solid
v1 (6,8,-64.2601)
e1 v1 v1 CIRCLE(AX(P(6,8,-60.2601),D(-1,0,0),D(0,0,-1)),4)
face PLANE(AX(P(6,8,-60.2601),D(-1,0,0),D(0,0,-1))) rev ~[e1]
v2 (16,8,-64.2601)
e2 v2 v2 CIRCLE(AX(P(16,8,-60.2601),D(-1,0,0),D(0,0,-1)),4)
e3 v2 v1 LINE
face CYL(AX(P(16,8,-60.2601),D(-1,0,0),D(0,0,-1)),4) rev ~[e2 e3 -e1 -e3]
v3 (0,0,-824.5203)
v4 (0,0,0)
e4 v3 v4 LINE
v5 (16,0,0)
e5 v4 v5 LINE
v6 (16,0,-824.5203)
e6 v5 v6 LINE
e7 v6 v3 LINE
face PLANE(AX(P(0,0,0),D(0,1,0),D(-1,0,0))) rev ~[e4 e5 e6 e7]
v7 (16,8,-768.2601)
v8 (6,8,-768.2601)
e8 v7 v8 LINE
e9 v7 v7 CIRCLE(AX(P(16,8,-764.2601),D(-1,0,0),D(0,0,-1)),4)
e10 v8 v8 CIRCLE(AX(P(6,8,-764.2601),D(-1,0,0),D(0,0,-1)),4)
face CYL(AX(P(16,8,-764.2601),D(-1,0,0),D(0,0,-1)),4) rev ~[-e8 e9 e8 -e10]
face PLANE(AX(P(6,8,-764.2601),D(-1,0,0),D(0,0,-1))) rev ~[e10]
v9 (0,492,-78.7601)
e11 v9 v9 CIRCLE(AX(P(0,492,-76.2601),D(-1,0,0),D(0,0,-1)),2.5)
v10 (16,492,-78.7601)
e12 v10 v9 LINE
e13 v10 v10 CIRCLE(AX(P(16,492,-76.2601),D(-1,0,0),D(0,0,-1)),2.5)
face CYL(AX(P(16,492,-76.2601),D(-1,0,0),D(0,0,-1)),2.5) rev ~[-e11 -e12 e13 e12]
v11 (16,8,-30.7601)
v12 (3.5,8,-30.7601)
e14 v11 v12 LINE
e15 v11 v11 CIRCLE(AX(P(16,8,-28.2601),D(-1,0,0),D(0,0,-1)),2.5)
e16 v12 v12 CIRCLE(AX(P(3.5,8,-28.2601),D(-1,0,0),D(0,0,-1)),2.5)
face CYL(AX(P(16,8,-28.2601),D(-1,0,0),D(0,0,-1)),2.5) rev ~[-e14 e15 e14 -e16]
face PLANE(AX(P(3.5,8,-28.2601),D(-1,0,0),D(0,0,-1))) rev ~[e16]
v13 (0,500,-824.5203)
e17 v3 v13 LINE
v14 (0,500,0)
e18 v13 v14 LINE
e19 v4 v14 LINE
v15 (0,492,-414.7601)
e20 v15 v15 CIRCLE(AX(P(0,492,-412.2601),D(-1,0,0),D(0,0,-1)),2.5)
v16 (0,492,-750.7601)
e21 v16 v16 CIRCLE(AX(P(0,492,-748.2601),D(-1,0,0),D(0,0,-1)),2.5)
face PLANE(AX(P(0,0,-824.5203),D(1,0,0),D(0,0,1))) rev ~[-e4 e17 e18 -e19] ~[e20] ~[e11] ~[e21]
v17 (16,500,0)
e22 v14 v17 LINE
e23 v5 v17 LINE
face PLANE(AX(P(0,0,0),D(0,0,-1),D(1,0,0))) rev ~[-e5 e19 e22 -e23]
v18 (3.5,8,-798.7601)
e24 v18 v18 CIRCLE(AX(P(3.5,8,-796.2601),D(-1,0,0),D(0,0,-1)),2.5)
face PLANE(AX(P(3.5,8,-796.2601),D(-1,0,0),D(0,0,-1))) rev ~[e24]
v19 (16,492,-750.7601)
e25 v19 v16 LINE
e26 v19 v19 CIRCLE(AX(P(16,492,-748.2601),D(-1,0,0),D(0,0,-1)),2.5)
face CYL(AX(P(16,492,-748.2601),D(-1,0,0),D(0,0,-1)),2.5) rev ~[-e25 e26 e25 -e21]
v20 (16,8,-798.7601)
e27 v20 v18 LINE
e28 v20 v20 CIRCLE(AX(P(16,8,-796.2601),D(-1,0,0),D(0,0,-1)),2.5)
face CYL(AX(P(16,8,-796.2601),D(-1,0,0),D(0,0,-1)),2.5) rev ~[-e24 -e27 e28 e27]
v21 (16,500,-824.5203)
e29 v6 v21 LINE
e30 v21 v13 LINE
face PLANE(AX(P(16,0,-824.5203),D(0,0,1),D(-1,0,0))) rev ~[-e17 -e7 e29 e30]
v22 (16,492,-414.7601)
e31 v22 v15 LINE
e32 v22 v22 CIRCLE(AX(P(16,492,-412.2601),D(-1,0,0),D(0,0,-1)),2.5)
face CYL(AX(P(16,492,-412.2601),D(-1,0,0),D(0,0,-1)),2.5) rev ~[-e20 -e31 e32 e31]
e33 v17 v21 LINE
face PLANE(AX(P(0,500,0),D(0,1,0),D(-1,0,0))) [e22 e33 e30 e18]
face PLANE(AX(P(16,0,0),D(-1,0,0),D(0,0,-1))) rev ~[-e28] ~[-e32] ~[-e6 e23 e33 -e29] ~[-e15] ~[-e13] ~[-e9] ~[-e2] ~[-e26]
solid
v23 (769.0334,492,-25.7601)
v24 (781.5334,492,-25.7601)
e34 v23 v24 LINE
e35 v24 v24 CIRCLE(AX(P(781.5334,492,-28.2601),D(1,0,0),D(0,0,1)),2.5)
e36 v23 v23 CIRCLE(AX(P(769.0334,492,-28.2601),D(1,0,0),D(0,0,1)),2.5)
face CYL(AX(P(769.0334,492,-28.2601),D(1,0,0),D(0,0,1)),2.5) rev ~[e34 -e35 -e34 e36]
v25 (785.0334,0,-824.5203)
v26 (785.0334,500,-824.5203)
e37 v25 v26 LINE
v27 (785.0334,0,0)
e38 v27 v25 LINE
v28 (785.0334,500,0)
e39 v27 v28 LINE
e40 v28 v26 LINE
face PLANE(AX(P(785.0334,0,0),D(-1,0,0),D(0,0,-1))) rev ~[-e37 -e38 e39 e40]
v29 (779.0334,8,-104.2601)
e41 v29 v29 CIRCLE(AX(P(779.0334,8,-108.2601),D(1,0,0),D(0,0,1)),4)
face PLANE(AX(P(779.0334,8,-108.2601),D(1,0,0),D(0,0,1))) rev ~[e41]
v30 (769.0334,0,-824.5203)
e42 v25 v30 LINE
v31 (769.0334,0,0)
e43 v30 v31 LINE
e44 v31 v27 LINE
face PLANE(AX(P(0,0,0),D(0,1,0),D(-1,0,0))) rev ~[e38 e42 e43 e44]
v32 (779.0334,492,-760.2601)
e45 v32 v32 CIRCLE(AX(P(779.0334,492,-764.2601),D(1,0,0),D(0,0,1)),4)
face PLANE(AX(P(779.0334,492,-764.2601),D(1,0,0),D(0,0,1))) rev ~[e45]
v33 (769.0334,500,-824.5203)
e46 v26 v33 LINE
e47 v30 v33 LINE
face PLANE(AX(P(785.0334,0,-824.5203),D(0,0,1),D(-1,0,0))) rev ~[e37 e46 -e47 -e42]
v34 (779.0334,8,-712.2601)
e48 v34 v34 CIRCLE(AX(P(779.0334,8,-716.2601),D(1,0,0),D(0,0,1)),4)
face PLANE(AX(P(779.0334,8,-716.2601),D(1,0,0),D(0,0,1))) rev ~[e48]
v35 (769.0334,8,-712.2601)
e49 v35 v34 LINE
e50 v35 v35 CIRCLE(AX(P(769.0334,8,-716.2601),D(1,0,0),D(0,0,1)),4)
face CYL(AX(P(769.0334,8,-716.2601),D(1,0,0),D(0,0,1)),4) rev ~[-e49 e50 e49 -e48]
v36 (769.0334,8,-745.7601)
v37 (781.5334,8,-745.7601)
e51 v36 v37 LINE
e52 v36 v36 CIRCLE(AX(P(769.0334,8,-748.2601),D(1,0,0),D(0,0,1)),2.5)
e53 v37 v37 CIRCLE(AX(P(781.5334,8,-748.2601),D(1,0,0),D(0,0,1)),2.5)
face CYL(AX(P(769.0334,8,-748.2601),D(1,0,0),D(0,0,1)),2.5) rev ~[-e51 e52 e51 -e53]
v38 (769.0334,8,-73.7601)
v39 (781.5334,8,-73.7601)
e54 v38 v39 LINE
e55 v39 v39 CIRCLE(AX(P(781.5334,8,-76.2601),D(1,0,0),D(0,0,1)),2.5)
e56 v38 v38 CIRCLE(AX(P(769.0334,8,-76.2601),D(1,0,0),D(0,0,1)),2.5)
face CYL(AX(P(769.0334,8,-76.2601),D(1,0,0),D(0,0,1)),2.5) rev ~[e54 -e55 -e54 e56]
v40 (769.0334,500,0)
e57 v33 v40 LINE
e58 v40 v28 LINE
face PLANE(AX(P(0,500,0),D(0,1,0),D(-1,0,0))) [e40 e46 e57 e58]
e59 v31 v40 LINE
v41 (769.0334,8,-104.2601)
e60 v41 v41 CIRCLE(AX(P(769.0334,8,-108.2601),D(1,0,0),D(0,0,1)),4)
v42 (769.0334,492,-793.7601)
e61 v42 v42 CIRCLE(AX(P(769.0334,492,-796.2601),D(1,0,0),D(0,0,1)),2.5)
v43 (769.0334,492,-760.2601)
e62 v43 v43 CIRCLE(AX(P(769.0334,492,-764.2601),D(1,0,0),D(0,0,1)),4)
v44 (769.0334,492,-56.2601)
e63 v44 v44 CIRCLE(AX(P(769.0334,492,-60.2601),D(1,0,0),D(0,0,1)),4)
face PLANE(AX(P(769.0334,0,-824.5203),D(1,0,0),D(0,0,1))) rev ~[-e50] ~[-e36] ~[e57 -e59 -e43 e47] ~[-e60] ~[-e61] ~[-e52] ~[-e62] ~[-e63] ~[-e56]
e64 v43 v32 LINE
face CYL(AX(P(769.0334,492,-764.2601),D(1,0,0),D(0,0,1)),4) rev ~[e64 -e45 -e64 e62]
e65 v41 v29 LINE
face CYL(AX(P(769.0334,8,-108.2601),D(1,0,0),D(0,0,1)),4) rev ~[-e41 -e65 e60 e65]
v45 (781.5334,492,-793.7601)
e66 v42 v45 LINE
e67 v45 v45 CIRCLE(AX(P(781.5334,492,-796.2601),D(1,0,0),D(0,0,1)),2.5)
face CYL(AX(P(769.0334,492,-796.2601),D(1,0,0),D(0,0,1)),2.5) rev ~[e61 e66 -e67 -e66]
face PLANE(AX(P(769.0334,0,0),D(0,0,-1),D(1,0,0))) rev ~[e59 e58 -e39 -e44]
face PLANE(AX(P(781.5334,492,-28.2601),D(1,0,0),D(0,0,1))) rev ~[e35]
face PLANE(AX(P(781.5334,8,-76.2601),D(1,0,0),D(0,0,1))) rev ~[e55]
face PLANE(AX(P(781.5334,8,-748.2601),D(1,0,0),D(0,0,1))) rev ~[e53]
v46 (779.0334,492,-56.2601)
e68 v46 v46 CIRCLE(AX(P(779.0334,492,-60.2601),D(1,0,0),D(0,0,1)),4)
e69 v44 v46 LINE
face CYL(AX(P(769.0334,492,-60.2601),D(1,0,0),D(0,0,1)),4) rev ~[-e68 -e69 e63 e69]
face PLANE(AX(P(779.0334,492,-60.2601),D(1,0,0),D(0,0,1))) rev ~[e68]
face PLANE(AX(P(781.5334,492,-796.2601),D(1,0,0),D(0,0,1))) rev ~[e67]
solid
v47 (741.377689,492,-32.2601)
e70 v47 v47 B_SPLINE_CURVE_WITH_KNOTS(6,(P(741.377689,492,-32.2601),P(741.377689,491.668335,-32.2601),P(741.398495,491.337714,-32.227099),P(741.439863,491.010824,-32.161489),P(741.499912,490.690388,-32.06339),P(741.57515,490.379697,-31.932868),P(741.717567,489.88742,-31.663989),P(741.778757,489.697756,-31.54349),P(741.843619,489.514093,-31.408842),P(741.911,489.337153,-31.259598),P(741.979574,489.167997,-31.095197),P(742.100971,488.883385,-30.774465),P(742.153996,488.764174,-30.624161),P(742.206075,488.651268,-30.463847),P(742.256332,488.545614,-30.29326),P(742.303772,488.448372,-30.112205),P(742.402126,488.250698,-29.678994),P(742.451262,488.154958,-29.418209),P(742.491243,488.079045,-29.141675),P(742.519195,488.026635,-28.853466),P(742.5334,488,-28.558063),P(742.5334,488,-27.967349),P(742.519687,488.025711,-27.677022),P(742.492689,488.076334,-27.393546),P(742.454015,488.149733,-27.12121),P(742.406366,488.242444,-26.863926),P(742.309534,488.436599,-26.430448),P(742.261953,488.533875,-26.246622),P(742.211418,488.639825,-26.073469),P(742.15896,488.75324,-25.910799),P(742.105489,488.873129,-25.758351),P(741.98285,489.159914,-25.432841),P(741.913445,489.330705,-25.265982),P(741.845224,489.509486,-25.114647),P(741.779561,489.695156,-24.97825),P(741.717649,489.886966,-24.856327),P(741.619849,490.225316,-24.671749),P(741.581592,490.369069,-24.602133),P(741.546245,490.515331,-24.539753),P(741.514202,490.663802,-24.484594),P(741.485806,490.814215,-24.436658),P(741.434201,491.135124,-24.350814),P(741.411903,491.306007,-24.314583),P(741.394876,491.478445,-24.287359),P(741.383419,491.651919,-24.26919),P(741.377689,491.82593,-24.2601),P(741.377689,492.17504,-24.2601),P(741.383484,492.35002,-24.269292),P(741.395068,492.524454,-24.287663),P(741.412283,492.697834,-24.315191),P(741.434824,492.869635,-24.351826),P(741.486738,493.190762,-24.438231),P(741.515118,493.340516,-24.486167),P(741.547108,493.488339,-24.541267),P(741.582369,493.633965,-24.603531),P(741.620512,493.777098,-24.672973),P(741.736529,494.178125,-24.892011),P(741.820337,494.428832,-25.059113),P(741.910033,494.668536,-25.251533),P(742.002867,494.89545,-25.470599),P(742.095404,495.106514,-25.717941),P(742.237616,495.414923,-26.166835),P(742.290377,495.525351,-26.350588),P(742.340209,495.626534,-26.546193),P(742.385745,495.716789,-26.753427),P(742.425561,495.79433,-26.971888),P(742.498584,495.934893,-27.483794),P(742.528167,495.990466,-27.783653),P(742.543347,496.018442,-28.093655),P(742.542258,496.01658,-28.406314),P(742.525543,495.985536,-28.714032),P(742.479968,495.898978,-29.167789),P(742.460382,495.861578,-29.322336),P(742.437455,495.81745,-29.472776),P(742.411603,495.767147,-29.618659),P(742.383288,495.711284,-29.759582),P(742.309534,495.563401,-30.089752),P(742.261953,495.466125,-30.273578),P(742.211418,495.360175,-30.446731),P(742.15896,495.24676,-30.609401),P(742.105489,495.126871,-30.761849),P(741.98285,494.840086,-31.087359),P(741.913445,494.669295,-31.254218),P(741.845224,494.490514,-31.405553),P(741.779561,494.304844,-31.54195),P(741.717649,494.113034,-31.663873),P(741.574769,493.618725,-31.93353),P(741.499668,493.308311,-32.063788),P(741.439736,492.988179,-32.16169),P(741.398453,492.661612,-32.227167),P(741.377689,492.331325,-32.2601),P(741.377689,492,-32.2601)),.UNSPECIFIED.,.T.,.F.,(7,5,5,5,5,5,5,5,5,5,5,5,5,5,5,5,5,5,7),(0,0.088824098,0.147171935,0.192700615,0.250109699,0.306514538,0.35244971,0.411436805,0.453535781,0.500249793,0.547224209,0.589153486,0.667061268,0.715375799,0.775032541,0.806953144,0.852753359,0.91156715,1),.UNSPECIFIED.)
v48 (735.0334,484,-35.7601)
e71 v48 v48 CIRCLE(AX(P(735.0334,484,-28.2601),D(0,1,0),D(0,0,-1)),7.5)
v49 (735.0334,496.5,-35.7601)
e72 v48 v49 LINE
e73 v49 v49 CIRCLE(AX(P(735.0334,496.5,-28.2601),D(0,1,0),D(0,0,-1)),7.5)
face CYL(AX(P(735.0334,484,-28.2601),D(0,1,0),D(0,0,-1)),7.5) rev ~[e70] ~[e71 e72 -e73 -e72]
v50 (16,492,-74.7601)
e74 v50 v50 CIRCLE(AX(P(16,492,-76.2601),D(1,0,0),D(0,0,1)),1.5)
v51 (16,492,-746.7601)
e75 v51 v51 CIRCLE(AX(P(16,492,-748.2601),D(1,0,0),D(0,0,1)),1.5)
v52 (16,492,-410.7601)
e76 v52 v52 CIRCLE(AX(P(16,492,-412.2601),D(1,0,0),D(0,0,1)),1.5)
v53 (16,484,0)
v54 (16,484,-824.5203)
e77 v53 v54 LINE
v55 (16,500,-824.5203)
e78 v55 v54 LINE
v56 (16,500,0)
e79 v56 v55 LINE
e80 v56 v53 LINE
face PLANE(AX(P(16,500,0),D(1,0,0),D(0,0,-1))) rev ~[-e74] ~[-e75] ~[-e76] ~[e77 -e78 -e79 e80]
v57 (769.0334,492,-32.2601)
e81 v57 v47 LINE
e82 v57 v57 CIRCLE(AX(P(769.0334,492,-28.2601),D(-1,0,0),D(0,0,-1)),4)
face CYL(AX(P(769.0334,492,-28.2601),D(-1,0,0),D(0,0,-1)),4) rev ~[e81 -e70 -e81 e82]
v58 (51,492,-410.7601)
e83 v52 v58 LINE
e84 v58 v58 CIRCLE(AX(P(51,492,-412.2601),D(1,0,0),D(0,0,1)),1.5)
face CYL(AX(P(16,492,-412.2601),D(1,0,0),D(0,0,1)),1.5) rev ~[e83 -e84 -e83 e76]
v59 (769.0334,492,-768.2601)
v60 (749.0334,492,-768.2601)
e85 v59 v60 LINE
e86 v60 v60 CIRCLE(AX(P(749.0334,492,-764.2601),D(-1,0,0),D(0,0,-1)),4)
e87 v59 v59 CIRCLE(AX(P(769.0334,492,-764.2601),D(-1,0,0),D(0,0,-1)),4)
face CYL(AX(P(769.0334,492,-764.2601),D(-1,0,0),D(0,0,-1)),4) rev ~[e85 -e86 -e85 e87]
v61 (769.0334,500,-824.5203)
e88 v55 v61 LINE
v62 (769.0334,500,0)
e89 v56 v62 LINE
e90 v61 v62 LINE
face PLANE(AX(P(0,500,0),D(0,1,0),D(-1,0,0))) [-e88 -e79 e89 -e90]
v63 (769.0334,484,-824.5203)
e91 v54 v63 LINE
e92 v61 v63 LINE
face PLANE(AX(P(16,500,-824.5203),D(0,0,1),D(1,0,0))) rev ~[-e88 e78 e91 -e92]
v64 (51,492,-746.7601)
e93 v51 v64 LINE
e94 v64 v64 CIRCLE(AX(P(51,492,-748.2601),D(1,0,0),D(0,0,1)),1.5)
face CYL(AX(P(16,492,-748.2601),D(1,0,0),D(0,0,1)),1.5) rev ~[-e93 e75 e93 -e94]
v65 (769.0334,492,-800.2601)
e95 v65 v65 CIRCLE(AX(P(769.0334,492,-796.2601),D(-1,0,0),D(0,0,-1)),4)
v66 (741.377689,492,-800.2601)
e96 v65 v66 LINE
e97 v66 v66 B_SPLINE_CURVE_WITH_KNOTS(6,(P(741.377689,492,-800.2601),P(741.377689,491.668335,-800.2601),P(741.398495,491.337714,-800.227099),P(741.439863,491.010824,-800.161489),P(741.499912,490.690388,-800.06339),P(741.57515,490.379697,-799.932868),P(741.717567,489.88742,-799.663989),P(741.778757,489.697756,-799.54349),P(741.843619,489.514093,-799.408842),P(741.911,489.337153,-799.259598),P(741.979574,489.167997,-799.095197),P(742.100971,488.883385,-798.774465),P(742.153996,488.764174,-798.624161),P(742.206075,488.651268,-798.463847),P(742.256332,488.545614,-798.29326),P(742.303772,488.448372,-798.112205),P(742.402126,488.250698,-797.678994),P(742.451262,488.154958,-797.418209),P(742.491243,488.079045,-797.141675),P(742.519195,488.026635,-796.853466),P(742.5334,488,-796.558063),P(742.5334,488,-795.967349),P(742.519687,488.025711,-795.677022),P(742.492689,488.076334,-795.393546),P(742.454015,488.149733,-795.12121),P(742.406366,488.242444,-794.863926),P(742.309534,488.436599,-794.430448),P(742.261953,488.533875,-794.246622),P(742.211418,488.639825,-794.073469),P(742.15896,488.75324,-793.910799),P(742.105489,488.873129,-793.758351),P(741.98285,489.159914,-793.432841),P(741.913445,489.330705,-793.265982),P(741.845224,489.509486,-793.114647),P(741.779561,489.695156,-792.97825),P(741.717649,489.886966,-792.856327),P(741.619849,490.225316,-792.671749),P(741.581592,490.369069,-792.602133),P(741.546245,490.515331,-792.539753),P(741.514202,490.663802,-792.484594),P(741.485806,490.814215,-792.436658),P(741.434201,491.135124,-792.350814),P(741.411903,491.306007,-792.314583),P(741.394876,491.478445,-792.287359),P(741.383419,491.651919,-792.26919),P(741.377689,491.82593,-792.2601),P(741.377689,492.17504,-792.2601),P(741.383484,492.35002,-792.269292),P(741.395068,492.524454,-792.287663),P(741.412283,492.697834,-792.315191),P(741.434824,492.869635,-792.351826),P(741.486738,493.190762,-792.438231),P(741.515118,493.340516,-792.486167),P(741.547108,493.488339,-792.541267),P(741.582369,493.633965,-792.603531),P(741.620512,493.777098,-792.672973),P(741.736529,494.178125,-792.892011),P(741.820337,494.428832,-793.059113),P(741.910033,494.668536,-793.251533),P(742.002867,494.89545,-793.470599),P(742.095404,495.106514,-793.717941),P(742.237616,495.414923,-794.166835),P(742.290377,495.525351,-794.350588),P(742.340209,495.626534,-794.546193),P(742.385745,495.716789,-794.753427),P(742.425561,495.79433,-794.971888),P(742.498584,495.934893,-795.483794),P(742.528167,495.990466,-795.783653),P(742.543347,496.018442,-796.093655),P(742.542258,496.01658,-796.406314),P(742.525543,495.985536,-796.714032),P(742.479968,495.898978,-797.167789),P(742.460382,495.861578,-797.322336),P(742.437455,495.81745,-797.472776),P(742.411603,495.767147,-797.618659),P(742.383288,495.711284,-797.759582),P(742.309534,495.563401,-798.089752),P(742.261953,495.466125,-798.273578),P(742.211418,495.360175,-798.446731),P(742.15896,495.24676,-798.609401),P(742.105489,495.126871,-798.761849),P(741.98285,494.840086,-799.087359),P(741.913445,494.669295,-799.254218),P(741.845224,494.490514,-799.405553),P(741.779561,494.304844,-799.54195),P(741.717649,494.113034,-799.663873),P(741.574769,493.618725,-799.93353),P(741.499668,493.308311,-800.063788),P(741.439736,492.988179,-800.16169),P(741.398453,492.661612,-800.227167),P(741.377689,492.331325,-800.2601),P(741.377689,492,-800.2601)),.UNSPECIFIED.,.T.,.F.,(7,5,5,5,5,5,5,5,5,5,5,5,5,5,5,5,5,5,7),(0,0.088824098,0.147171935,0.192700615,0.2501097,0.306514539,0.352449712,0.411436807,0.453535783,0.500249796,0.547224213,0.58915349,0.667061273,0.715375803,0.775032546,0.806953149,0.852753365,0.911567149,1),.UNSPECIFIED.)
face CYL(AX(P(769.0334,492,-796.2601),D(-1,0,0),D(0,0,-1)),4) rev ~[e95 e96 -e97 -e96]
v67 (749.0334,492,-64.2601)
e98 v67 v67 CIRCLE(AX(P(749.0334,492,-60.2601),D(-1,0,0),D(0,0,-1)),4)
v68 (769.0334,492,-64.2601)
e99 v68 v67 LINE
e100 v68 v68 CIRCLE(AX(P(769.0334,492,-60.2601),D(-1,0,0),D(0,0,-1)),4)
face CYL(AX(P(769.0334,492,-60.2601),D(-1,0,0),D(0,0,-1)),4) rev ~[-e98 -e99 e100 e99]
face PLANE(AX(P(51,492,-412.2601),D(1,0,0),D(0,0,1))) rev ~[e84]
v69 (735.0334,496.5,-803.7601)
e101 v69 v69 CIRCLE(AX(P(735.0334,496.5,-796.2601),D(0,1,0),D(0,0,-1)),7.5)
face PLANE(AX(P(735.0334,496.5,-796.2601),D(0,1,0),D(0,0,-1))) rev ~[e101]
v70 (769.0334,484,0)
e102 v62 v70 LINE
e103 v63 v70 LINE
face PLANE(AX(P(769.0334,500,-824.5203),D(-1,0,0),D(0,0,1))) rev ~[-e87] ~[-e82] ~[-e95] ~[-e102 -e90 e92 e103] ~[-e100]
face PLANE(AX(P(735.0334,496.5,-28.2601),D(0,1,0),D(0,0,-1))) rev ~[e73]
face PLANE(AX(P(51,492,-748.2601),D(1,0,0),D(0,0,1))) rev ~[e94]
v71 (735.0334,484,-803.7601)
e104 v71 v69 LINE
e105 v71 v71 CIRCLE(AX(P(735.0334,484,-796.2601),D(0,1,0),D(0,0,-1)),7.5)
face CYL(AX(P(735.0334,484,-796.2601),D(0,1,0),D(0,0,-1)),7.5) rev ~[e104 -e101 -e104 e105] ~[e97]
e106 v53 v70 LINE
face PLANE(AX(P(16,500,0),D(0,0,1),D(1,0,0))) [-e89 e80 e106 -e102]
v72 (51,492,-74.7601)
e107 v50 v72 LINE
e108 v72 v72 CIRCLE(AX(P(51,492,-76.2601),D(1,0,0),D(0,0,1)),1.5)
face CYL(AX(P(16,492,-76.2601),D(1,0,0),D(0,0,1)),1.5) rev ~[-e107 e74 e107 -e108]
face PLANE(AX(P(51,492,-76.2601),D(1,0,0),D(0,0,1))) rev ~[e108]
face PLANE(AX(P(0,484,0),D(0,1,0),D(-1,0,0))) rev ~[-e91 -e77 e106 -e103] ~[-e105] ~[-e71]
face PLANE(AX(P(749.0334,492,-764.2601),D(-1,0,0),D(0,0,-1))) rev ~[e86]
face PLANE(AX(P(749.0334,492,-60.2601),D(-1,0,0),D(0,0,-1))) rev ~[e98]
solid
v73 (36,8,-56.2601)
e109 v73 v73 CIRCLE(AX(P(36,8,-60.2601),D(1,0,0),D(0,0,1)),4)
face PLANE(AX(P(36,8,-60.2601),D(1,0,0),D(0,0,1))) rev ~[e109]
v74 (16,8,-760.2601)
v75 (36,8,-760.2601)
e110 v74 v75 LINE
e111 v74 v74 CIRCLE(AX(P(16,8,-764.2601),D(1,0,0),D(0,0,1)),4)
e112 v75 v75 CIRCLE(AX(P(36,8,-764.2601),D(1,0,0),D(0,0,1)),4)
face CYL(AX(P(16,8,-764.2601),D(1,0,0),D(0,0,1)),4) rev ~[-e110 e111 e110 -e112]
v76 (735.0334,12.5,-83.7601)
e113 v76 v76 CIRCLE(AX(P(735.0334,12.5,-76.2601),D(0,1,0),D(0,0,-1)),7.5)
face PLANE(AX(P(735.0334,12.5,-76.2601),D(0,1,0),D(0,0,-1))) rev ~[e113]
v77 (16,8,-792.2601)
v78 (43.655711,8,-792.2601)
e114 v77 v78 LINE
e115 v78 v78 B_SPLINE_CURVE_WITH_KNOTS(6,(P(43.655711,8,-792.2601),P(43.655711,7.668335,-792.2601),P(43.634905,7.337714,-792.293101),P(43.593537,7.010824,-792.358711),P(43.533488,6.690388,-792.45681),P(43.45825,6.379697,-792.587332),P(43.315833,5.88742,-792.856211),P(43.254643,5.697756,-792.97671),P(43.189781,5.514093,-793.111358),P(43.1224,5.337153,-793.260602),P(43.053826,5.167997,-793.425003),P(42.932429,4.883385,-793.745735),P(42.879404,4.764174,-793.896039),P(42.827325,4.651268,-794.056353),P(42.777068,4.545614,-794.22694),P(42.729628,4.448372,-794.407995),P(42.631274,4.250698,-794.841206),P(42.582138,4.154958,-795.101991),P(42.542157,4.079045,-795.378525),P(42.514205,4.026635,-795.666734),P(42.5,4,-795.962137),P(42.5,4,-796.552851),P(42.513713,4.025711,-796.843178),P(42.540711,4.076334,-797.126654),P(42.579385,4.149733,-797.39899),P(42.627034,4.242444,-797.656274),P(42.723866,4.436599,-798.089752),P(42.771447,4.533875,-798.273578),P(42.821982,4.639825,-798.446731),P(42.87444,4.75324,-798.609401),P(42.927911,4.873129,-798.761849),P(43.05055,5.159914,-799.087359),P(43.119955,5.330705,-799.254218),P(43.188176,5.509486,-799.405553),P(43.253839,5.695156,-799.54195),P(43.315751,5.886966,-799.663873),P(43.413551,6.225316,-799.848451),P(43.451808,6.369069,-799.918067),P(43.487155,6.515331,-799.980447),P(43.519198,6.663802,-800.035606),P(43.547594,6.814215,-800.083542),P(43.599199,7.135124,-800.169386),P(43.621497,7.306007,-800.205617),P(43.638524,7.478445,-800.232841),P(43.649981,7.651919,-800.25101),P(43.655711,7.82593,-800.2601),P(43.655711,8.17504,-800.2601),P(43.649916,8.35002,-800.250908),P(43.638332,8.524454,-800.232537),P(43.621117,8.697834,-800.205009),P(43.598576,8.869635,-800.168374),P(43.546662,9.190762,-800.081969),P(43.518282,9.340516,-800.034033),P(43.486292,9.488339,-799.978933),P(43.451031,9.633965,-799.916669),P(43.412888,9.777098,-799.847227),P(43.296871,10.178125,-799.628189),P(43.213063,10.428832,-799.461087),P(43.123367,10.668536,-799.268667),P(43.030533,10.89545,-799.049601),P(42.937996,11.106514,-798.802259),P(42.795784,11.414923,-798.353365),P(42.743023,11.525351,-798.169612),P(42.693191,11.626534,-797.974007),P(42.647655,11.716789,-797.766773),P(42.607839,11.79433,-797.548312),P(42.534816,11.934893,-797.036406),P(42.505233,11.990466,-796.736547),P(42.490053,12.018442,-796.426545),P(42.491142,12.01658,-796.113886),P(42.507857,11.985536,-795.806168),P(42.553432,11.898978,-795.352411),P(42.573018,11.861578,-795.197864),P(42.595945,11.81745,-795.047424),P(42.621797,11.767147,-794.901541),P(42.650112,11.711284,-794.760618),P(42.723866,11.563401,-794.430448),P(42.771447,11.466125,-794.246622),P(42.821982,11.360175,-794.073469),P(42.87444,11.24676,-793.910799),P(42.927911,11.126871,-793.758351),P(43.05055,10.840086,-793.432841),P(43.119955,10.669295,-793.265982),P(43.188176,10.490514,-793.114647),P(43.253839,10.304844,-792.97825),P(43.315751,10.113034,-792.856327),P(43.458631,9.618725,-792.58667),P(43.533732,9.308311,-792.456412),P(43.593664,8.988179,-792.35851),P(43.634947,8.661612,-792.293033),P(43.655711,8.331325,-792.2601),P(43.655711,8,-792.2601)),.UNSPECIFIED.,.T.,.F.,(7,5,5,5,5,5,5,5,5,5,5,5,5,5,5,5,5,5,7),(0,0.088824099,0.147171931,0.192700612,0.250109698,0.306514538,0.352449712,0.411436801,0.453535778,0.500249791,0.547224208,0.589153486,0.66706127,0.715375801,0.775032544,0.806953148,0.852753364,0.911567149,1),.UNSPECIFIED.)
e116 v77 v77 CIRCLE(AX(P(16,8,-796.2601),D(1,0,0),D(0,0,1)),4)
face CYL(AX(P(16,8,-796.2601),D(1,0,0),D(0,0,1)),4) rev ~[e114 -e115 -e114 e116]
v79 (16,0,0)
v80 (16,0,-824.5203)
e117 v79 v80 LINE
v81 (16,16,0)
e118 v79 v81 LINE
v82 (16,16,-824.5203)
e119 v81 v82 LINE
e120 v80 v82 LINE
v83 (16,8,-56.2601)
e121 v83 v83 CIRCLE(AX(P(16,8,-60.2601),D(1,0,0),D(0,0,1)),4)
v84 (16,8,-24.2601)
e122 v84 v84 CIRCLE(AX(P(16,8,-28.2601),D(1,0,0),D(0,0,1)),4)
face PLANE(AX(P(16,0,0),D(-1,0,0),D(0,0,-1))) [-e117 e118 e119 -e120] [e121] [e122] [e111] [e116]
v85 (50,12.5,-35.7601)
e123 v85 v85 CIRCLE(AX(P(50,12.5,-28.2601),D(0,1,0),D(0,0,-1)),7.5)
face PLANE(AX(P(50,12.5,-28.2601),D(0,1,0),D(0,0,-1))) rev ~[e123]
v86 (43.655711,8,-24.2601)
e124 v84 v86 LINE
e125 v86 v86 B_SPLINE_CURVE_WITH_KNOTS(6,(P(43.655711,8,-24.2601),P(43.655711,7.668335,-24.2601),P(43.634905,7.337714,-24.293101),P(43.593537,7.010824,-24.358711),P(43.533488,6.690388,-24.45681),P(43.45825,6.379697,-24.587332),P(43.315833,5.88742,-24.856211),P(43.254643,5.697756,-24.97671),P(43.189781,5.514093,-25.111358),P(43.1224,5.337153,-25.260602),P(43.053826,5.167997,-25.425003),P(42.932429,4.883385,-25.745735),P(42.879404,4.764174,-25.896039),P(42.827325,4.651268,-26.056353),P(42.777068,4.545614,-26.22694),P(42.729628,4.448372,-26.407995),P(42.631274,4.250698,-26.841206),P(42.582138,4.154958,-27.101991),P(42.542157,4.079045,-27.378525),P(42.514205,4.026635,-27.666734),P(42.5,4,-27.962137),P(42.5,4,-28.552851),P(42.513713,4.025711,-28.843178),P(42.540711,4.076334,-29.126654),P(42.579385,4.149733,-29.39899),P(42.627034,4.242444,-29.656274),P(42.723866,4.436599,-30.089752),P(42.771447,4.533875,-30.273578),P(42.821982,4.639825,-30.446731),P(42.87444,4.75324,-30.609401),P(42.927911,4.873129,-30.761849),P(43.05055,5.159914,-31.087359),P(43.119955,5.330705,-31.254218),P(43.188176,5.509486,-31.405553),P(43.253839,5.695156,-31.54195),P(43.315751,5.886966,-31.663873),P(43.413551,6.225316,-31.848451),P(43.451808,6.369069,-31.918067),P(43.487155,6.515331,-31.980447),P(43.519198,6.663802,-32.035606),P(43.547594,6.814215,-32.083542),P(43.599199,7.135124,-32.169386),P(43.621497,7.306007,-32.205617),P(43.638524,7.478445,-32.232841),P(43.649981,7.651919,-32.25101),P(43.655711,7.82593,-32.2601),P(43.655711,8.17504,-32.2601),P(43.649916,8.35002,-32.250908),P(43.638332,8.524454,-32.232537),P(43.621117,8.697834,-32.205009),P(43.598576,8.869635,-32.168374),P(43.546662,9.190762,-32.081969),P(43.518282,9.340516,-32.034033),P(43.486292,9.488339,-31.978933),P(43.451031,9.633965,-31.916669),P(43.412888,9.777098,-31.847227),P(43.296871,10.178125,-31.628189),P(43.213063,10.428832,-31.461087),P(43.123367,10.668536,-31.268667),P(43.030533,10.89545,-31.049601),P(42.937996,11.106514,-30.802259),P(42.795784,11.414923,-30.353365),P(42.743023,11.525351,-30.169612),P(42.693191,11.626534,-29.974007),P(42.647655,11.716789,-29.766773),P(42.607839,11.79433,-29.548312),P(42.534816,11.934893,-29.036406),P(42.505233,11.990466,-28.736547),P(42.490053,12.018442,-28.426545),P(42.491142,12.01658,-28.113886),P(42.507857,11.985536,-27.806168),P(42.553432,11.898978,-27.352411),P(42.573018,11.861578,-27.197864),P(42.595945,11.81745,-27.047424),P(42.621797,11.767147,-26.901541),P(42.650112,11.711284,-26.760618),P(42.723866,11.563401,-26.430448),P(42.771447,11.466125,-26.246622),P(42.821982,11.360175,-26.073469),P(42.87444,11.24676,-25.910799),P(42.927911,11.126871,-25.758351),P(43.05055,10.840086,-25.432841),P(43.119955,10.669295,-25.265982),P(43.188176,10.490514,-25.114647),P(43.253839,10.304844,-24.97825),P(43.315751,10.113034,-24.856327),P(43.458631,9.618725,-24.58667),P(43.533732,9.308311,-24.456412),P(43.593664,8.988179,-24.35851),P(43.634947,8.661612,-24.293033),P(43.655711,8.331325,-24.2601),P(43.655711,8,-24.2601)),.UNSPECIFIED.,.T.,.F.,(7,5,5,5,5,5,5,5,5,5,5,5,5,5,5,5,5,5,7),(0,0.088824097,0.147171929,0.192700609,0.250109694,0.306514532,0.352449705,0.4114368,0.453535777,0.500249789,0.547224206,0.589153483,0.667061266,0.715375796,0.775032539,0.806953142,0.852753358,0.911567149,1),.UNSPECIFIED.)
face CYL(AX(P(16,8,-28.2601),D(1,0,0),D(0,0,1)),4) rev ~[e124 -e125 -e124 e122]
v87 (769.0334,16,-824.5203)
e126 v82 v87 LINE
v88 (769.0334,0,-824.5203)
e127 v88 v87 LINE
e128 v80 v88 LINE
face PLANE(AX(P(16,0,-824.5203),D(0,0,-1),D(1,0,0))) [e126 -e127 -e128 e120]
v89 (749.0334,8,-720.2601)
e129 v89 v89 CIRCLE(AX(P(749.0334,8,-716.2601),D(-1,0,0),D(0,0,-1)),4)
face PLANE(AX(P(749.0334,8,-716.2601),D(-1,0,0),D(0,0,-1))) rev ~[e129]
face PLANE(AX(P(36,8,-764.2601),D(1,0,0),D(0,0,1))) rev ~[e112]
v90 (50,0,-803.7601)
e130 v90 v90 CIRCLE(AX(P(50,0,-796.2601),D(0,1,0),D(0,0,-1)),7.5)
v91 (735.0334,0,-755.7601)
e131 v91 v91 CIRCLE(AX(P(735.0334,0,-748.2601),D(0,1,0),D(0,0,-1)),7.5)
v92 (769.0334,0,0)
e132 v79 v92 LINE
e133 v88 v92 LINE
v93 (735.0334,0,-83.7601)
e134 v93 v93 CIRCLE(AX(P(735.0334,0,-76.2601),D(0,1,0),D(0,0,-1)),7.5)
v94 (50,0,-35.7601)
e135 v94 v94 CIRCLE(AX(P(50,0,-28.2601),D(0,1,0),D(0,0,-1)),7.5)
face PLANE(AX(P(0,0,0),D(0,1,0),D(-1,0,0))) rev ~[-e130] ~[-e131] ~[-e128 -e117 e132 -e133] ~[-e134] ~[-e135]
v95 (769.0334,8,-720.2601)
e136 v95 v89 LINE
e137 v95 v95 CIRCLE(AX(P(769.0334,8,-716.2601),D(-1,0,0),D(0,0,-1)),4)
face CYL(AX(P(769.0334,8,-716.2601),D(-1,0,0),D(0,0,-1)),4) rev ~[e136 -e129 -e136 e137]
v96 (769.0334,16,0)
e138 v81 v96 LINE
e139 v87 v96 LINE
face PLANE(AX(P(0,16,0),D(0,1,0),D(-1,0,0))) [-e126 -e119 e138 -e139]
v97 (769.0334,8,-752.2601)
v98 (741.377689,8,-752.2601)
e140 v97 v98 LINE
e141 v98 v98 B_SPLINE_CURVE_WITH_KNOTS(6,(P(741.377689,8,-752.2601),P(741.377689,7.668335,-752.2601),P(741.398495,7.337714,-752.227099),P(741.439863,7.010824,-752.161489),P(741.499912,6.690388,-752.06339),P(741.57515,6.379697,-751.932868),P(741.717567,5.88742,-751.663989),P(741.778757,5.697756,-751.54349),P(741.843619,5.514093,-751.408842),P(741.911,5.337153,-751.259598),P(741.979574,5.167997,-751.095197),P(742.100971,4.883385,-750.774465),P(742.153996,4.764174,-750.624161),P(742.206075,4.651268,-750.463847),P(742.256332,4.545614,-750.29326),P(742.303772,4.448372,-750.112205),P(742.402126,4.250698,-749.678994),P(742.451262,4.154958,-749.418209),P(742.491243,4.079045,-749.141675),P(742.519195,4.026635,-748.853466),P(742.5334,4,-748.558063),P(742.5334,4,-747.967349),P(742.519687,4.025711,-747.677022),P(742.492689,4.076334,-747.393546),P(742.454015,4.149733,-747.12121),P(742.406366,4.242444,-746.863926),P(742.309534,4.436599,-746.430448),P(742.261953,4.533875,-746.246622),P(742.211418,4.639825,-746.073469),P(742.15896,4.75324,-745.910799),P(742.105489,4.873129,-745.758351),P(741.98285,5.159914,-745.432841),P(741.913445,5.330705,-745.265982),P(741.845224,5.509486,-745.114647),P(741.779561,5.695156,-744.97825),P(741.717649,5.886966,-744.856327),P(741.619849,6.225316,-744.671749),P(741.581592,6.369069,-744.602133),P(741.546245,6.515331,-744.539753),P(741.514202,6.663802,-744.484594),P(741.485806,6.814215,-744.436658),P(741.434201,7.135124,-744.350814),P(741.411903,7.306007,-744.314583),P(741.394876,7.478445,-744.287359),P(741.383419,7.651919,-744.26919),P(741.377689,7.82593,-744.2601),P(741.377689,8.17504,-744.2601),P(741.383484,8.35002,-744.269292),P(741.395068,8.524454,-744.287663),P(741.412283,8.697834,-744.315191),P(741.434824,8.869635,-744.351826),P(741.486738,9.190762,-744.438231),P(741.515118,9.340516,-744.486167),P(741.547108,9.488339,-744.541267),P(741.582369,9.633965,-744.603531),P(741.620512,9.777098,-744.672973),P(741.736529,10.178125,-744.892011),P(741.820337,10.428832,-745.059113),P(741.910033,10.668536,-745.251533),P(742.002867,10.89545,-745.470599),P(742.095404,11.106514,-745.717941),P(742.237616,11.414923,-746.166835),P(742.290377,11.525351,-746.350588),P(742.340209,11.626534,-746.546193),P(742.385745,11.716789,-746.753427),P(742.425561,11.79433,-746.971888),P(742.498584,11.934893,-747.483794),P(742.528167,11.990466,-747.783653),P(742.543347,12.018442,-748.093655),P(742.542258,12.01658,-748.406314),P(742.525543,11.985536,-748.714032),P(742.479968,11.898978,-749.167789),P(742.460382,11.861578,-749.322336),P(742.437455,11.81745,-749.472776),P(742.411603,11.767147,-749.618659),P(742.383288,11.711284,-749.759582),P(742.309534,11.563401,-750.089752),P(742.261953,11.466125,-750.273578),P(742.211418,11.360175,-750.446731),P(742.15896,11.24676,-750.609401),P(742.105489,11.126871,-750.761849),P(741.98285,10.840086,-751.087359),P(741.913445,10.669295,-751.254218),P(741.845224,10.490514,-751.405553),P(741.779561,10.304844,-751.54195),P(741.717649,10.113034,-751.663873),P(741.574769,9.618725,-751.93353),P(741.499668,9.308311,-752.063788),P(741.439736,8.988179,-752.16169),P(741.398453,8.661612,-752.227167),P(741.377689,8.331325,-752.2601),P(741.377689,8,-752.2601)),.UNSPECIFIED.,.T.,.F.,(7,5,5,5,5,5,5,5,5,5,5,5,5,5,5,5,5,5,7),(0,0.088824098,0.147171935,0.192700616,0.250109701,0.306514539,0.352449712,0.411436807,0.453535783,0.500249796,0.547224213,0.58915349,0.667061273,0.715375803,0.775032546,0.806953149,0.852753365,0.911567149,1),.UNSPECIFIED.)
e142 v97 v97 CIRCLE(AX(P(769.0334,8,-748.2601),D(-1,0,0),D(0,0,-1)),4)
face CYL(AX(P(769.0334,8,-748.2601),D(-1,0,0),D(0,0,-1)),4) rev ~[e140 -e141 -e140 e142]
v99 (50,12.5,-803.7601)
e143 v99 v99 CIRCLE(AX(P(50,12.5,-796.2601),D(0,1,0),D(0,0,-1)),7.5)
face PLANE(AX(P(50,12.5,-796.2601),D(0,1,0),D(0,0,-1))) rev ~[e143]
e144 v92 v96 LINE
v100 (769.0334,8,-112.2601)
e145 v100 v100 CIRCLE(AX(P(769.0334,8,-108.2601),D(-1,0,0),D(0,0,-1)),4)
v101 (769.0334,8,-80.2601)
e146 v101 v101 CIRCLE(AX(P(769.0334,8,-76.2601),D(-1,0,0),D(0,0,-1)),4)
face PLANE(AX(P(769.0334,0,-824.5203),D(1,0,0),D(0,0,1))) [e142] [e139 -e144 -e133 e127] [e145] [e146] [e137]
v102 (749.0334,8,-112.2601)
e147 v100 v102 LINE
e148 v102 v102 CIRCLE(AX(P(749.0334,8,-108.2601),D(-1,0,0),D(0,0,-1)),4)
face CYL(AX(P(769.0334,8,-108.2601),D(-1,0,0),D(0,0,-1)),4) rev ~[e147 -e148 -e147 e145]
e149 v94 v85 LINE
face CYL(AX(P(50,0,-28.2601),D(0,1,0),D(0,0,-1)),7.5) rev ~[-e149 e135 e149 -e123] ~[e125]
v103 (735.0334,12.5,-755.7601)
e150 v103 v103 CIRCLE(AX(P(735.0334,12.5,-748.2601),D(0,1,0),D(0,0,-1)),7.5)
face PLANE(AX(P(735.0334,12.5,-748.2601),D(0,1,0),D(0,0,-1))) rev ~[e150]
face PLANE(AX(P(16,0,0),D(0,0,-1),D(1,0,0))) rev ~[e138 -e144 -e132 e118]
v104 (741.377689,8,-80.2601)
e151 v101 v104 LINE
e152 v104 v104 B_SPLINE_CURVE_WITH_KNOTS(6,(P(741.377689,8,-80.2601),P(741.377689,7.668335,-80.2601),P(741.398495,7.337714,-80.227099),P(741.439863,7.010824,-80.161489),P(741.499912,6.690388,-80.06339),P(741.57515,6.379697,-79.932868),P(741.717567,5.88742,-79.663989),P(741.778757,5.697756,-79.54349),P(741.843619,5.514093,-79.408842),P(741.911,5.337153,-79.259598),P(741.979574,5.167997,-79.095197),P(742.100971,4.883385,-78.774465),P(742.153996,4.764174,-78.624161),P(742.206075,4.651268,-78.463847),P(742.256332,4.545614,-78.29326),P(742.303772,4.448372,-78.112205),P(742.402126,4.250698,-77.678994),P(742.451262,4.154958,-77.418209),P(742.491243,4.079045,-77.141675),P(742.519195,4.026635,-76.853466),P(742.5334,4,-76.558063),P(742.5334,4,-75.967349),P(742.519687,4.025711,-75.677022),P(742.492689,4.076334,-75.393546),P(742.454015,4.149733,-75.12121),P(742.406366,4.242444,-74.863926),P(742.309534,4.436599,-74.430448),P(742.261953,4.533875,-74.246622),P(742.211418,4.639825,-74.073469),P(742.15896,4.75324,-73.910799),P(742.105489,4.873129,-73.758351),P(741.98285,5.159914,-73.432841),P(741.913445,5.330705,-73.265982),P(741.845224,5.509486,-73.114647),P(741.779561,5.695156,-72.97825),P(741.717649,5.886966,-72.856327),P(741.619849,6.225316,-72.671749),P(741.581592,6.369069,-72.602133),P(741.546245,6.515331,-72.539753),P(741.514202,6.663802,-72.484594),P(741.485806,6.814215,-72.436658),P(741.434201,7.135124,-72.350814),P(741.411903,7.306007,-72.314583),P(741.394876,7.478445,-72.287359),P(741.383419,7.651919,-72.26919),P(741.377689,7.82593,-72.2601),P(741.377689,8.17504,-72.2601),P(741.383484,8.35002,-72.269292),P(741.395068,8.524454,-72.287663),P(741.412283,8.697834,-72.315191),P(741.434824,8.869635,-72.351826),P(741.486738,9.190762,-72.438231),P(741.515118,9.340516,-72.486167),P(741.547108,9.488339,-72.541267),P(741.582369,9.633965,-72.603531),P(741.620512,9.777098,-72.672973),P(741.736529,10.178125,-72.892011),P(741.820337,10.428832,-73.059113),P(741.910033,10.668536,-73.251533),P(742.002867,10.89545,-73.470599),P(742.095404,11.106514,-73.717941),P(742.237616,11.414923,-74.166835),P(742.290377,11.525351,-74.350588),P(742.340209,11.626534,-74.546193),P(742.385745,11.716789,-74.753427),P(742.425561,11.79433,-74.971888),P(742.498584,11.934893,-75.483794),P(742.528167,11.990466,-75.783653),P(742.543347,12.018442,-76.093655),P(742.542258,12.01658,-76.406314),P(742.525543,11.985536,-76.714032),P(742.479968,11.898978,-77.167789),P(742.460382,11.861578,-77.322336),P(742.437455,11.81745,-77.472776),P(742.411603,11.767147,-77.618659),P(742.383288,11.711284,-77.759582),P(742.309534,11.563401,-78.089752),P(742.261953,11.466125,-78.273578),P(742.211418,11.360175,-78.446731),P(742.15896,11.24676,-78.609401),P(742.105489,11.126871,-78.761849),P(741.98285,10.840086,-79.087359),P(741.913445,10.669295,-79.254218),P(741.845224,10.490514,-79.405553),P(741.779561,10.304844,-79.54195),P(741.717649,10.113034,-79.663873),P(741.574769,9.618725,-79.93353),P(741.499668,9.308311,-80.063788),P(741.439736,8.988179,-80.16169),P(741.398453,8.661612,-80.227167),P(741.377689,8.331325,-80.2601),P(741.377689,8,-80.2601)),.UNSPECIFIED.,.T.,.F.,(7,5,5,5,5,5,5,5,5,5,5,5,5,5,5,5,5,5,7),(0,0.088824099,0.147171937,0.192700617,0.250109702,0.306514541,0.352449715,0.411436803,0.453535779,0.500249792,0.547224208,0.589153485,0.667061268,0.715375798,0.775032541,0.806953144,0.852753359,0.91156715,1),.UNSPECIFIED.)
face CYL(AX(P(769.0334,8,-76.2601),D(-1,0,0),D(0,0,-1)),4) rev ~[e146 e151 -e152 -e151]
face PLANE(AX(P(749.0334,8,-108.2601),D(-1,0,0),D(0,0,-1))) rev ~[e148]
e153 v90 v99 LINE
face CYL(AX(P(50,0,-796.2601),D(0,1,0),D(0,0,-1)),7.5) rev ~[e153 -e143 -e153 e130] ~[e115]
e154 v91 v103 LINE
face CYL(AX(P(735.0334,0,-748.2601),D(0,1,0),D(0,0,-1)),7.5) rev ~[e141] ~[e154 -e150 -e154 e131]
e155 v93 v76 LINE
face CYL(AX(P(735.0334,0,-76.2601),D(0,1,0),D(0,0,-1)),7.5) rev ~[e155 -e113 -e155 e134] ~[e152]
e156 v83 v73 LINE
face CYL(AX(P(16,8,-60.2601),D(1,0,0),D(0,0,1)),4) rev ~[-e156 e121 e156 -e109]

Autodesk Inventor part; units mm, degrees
ref_plane "YZ Plane" through (0, 0, 0) normal (1, 0, 0) x (0, 1, 0)
ref_plane "XZ Plane" through (0, 0, 0) normal (0, 1, 0) x (-1, 0, 0)
ref_plane "XY Plane" through (0, 0, 0) normal (0, 0, 1) x (1, 0, 0)
sketch "Эскиз1" plane through (0, 0, 0) normal (0, 1, 0) x (-1, 0, 0)
  line L0 (0, 0) -> (-16, 0)
  line L1 (-16, 0) -> (-16, -824.5203)
  line L2 (-16, -824.5203) -> (0, -824.5203)
  line L3 (0, -824.5203) -> (0, 0)
  line L4 (-769.0334, 0) -> (-785.0334, 0)
  line L5 (-785.0334, 0) -> (-785.0334, -824.5203)
  line L6 (-785.0334, -824.5203) -> (-769.0334, -824.5203)
  line L7 (-769.0334, -824.5203) -> (-769.0334, 0)
  line L8 (-16, -824.5203) -> (-769.0334, -824.5203)
  line L9 (-16, 0) -> (-769.0334, 0)
  dimension "d0" = 16
  dimension "d1" = 16
  dimension "d46" = 824.52
  dimension "d47" = 785.033
extrude "Выдавливание1" add sketch "Эскиз1" along normal blind 500 contours L3 L2 L1 L0
extrude "Выдавливание2" add sketch "Эскиз1" against normal blind 16 from surface at 500 separate body contours L1 L8 L7 L9
extrude "Выдавливание3" add sketch "Эскиз1" along normal blind 16 separate body contours L1 L8 L7 L9
extrude "Выдавливание4" add sketch "Эскиз1" along normal up to surface (500 mm away) separate body contours L7 L6 L5 L4
sketch "DrillingSketch_1" plane through (16, 484, 0) normal (-1, 0, 0) x (0, 0, 1)
  line L0 (0, 0) -> (-824.5203, 0) projected
  line L1 (0, 16) -> (0, 0) projected
  line L2 (0, 16) -> (-824.5203, 16) projected
  line L3 (-824.5203, 0) -> (-824.5203, 16) projected
  line L4 (0, 8) -> (-824.5203, 8) construction
  line L5 (-412.2601, 8) -> (-412.2601, -12) construction
  point P0 (-76.2601, 8)
  point P1 (-748.2601, 8)
  point P2 (-108.2601, 8)
  point P3 (-716.2601, 8)
  dimension "d5" = 16
  dimension "Минимальный_отступ_присадки_от_кромки_Каркас" = 70
  dimension "Long_edge_1" = 824.5203
  dimension "Расстояние_между_точками" = 672
  dimension "d1107" = 32
sketch "DrillingSketch_2" plane through (769.0334, 0, 0) normal (1, 0, 0) x (0, 0, -1)
  line L0 (0, 0) -> (824.5203, 0) projected
  line L1 (824.5203, 0) -> (824.5203, 16) projected
  line L2 (0, 16) -> (824.5203, 16) projected
  line L3 (0, 0) -> (0, 16) projected
  line L4 (824.5203, 8) -> (0, 8) construction
  line L5 (412.2601, 8) -> (412.2601, -12) construction
  point P0 (748.2601, 8)
  point P1 (76.2601, 8)
  point P2 (716.2601, 8)
  point P3 (108.2601, 8)
  dimension "Минимальный_отступ_присадки_от_кромки_Каркас" = 70
  dimension "Long_edge_2" = 824.5203
  dimension "Расстояние_между_точками_2" = 672
  dimension "d1110" = 32
sketch "DrawerSketch_1" plane through (769.0334, 484, -824.5203) normal (1, 0, 0) x (0, 0, -1)
  line L0 (0, 0) -> (-824.5203, 0) projected
  line L1 (0, 0) -> (0, 16) projected
  line L2 (0, 16) -> (-824.5203, 16) projected
  line L3 (-824.5203, 0) -> (-824.5203, 16) projected
  line L4 (0, 8) -> (-824.5203, 8) construction
  line L5 (-412.2601, 8) -> (-412.2601, -12) construction
  point P0 (-28.2601, 8)
  point P1 (-796.2601, 8)
  point P2 (-60.2601, 8)
  point P3 (-764.2601, 8)
  dimension "d46" = 824.52
  dimension "d47" = 785.033
  dimension "Минимальный_отступ_присадки_от_кромки_Ящик" = 20
  dimension "Long_edge_1_2" = 824.5203
  dimension "Расстояние_между_точками_3" = 768
  dimension "d1113" = 32
sketch "DrawerSketch_2" plane through (16, 0, -824.5203) normal (-1, 0, 0) x (0, 0, 1)
  line L0 (0, 0) -> (824.5203, 0) projected
  line L1 (824.5203, 0) -> (824.5203, 16) projected
  line L2 (0, 16) -> (824.5203, 16) projected
  line L3 (0, 0) -> (0, 16) projected
  line L4 (824.5203, 8) -> (0, 8) construction
  line L5 (412.2601, 8) -> (412.2601, -12) construction
  point P0 (796.2601, 8)
  point P1 (28.2601, 8)
  point P2 (764.2601, 8)
  point P3 (60.2601, 8)
  dimension "d46" = 824.52
  dimension "d47" = 785.033
  dimension "Минимальный_отступ_присадки_от_кромки_Ящик" = 20
  dimension "Long_edge_2_2" = 824.5203
  dimension "Расстояние_между_точками_4" = 768
  dimension "d1116" = 32
hole "Stiajka outer 8x34" at (769.0334, 8, -748.2601) at (769.0334, 8, -76.2601) direction (-1, 0, 0) diameter 8 depth 34 bodies 1 2 3 4
hole "Stiajka outer 5x13" at (769.0334, 8, -748.2601) at (769.0334, 8, -76.2601) direction (1, 0, 0) diameter 5 depth 12.5 bodies 1 2 3 4
hole "Shkant 8x10" at (769.0334, 8, -716.2601) at (769.0334, 8, -108.2601) direction (1, 0, 0) diameter 8 depth 10 bodies 1 2 3 4
hole "Shkant 8x20" at (769.0334, 8, -716.2601) at (769.0334, 8, -108.2601) direction (-1, 0, 0) diameter 8 depth 20 bodies 1 2 3 4
sketch "StiajkaSideSketch" plane through (0, 0, 0) normal (0, -1, 0) x (1, 0, 0)
  line L0 (769.0334, -744.2601) -> (769.0334, -752.2601) projected
  line L1 (735.0334, -752.2601) -> (735.0334, -744.2601) projected
  line L2 (769.0334, -72.2601) -> (769.0334, -80.2601) projected
  line L3 (735.0334, -80.2601) -> (735.0334, -72.2601) projected
  point P0 (735.0334, -748.2601)
  point P1 (735.0334, -76.2601)
  dimension "d46" = 824.52
  dimension "d47" = 785.033
hole "Stiajka cup" at (735.0334, 0, -748.2601) at (735.0334, 0, -76.2601) direction (0, 1, 0) diameter 15 depth 12.5 bodies 1 2 3 4
hole "Stiajka outer 8x34 2" at (769.0334, 492, -796.2601) at (769.0334, 492, -28.2601) direction (-1, 0, 0) diameter 8 depth 34 bodies 1 2 3 4
hole "Stiajka outer 5x13 2" at (769.0334, 492, -796.2601) at (769.0334, 492, -28.2601) direction (1, 0, 0) diameter 5 depth 12.5 bodies 1 2 3 4
hole "Shkant 8x10 2" at (769.0334, 492, -764.2601) at (769.0334, 492, -60.2601) direction (1, 0, 0) diameter 8 depth 10 bodies 1 2 3 4
hole "Shkant 8x20 2" at (769.0334, 492, -764.2601) at (769.0334, 492, -60.2601) direction (-1, 0, 0) diameter 8 depth 20 bodies 1 2 3 4
sketch "StiajkaSideSketch_2" plane through (16, 484, 0) normal (0, -1, 0) x (1, 0, 0)
  line L0 (753.0334, -792.2601) -> (753.0334, -800.2601) projected
  line L1 (719.0334, -800.2601) -> (719.0334, -792.2601) projected
  line L2 (753.0334, -24.2601) -> (753.0334, -32.2601) projected
  line L3 (719.0334, -32.2601) -> (719.0334, -24.2601) projected
  point P0 (719.0334, -796.2601)
  point P1 (719.0334, -28.2601)
  dimension "d46" = 824.52
  dimension "d47" = 785.033
hole "Stiajka cup 2" at (735.0334, 484, -796.2601) at (735.0334, 484, -28.2601) direction (0, 1, 0) diameter 15 depth 12.5 bodies 1 2 3 4
hole "Stiajka outer 8x34 3" at (16, 8, -28.2601) at (16, 8, -796.2601) direction (1, 0, 0) diameter 8 depth 34 bodies 1 2 3 4
hole "Stiajka outer 5x13 3" at (16, 8, -28.2601) at (16, 8, -796.2601) direction (-1, 0, 0) diameter 5 depth 12.5 bodies 1 2 3 4
hole "Shkant 8x10 3" at (16, 8, -60.2601) at (16, 8, -764.2601) direction (-1, 0, 0) diameter 8 depth 10 bodies 1 2 3 4
hole "Shkant 8x20 3" at (16, 8, -60.2601) at (16, 8, -764.2601) direction (1, 0, 0) diameter 8 depth 20 bodies 1 2 3 4
sketch "StiajkaSideSketch_3" plane through (0, 0, 0) normal (0, -1, 0) x (1, 0, 0)
  line L0 (16, -32.2601) -> (16, -24.2601) projected
  line L1 (50, -24.2601) -> (50, -32.2601) projected
  line L2 (16, -800.2601) -> (16, -792.2601) projected
  line L3 (50, -792.2601) -> (50, -800.2601) projected
  point P0 (50, -28.2601)
  point P1 (50, -796.2601)
  dimension "d46" = 824.52
  dimension "d47" = 785.033
hole "Stiajka cup 3" at (50, 0, -28.2601) at (50, 0, -796.2601) direction (0, 1, 0) diameter 15 depth 12.5 bodies 1 2 3 4
hole "Confirmat 5mm inward" at (16, 492, -76.2601) at (16, 492, -412.2601) at (16, 492, -748.2601) direction (-1, 0, 0) diameter 5 depth 20 bodies 1 2 3 4
hole "Confirmat 3mm outward" at (16, 492, -76.2601) at (16, 492, -412.2601) at (16, 492, -748.2601) direction (1, 0, 0) diameter 3 depth 35 bodies 1 2 3 4
equation "\"d0\" = Толщина_каркаса"
equation "\"d1\" = Толщина_каркаса"
equation "\"d5\" = Толщина_каркаса"
equation "\"d7\" = Толщина_каркаса"
equation "\"Минимальный_отступ_присадки_от_кромки_Каркас\" = 70"
equation "\"Минимальный_отступ_присадки_от_кромки_Ящик\" = 20"
equation "\"Толщина_каркаса\" = 16"
equation "\"Стяжка_D\" = 15"
equation "\"Стяжка_h\" = 12.5"
equation "\"Стяжка_D_резьбыШтока\" = 5"
equation "\"Стяжка_D_телаШтока\" = 8"
equation "\"Стяжка_резьбыШтока_Петля_h\" = 12.5"
equation "\"Стяжка_отступ\" = 34"
equation "\"Конфирмат_D_вПласть\" = 8"
equation "\"Конфирмат_D_вТорец\" = 5"
equation "\"Толщина_каркаса_ящика\" = 16"
equation "\"Шкант_D\" = 8"
equation "\"Полкодержатель_D\" = 5"
equation "\"Полкодержатель_смещение_от_низа_полки\" = 5"
equation "\"Петля_D_присадки\" = 35"
equation "\"M_Конфирмат_глубина_резьбы\" = 35"
equation "\"M_Конфирмат_D_вПласть\" = 5"
equation "\"M_Конфирмат_D_вТорец\" = 3"
equation "\"Толщина_задн_ст_Володя\" = 3"
equation "\"Толщина_дна_ящика_Володя\" = 6"
equation "\"Минимальное_расстояния_от_заднСт_ящика_до_заднСт\" = 25"
equation "\"Западание_кромки_полки_за_каркас\" = 5"
